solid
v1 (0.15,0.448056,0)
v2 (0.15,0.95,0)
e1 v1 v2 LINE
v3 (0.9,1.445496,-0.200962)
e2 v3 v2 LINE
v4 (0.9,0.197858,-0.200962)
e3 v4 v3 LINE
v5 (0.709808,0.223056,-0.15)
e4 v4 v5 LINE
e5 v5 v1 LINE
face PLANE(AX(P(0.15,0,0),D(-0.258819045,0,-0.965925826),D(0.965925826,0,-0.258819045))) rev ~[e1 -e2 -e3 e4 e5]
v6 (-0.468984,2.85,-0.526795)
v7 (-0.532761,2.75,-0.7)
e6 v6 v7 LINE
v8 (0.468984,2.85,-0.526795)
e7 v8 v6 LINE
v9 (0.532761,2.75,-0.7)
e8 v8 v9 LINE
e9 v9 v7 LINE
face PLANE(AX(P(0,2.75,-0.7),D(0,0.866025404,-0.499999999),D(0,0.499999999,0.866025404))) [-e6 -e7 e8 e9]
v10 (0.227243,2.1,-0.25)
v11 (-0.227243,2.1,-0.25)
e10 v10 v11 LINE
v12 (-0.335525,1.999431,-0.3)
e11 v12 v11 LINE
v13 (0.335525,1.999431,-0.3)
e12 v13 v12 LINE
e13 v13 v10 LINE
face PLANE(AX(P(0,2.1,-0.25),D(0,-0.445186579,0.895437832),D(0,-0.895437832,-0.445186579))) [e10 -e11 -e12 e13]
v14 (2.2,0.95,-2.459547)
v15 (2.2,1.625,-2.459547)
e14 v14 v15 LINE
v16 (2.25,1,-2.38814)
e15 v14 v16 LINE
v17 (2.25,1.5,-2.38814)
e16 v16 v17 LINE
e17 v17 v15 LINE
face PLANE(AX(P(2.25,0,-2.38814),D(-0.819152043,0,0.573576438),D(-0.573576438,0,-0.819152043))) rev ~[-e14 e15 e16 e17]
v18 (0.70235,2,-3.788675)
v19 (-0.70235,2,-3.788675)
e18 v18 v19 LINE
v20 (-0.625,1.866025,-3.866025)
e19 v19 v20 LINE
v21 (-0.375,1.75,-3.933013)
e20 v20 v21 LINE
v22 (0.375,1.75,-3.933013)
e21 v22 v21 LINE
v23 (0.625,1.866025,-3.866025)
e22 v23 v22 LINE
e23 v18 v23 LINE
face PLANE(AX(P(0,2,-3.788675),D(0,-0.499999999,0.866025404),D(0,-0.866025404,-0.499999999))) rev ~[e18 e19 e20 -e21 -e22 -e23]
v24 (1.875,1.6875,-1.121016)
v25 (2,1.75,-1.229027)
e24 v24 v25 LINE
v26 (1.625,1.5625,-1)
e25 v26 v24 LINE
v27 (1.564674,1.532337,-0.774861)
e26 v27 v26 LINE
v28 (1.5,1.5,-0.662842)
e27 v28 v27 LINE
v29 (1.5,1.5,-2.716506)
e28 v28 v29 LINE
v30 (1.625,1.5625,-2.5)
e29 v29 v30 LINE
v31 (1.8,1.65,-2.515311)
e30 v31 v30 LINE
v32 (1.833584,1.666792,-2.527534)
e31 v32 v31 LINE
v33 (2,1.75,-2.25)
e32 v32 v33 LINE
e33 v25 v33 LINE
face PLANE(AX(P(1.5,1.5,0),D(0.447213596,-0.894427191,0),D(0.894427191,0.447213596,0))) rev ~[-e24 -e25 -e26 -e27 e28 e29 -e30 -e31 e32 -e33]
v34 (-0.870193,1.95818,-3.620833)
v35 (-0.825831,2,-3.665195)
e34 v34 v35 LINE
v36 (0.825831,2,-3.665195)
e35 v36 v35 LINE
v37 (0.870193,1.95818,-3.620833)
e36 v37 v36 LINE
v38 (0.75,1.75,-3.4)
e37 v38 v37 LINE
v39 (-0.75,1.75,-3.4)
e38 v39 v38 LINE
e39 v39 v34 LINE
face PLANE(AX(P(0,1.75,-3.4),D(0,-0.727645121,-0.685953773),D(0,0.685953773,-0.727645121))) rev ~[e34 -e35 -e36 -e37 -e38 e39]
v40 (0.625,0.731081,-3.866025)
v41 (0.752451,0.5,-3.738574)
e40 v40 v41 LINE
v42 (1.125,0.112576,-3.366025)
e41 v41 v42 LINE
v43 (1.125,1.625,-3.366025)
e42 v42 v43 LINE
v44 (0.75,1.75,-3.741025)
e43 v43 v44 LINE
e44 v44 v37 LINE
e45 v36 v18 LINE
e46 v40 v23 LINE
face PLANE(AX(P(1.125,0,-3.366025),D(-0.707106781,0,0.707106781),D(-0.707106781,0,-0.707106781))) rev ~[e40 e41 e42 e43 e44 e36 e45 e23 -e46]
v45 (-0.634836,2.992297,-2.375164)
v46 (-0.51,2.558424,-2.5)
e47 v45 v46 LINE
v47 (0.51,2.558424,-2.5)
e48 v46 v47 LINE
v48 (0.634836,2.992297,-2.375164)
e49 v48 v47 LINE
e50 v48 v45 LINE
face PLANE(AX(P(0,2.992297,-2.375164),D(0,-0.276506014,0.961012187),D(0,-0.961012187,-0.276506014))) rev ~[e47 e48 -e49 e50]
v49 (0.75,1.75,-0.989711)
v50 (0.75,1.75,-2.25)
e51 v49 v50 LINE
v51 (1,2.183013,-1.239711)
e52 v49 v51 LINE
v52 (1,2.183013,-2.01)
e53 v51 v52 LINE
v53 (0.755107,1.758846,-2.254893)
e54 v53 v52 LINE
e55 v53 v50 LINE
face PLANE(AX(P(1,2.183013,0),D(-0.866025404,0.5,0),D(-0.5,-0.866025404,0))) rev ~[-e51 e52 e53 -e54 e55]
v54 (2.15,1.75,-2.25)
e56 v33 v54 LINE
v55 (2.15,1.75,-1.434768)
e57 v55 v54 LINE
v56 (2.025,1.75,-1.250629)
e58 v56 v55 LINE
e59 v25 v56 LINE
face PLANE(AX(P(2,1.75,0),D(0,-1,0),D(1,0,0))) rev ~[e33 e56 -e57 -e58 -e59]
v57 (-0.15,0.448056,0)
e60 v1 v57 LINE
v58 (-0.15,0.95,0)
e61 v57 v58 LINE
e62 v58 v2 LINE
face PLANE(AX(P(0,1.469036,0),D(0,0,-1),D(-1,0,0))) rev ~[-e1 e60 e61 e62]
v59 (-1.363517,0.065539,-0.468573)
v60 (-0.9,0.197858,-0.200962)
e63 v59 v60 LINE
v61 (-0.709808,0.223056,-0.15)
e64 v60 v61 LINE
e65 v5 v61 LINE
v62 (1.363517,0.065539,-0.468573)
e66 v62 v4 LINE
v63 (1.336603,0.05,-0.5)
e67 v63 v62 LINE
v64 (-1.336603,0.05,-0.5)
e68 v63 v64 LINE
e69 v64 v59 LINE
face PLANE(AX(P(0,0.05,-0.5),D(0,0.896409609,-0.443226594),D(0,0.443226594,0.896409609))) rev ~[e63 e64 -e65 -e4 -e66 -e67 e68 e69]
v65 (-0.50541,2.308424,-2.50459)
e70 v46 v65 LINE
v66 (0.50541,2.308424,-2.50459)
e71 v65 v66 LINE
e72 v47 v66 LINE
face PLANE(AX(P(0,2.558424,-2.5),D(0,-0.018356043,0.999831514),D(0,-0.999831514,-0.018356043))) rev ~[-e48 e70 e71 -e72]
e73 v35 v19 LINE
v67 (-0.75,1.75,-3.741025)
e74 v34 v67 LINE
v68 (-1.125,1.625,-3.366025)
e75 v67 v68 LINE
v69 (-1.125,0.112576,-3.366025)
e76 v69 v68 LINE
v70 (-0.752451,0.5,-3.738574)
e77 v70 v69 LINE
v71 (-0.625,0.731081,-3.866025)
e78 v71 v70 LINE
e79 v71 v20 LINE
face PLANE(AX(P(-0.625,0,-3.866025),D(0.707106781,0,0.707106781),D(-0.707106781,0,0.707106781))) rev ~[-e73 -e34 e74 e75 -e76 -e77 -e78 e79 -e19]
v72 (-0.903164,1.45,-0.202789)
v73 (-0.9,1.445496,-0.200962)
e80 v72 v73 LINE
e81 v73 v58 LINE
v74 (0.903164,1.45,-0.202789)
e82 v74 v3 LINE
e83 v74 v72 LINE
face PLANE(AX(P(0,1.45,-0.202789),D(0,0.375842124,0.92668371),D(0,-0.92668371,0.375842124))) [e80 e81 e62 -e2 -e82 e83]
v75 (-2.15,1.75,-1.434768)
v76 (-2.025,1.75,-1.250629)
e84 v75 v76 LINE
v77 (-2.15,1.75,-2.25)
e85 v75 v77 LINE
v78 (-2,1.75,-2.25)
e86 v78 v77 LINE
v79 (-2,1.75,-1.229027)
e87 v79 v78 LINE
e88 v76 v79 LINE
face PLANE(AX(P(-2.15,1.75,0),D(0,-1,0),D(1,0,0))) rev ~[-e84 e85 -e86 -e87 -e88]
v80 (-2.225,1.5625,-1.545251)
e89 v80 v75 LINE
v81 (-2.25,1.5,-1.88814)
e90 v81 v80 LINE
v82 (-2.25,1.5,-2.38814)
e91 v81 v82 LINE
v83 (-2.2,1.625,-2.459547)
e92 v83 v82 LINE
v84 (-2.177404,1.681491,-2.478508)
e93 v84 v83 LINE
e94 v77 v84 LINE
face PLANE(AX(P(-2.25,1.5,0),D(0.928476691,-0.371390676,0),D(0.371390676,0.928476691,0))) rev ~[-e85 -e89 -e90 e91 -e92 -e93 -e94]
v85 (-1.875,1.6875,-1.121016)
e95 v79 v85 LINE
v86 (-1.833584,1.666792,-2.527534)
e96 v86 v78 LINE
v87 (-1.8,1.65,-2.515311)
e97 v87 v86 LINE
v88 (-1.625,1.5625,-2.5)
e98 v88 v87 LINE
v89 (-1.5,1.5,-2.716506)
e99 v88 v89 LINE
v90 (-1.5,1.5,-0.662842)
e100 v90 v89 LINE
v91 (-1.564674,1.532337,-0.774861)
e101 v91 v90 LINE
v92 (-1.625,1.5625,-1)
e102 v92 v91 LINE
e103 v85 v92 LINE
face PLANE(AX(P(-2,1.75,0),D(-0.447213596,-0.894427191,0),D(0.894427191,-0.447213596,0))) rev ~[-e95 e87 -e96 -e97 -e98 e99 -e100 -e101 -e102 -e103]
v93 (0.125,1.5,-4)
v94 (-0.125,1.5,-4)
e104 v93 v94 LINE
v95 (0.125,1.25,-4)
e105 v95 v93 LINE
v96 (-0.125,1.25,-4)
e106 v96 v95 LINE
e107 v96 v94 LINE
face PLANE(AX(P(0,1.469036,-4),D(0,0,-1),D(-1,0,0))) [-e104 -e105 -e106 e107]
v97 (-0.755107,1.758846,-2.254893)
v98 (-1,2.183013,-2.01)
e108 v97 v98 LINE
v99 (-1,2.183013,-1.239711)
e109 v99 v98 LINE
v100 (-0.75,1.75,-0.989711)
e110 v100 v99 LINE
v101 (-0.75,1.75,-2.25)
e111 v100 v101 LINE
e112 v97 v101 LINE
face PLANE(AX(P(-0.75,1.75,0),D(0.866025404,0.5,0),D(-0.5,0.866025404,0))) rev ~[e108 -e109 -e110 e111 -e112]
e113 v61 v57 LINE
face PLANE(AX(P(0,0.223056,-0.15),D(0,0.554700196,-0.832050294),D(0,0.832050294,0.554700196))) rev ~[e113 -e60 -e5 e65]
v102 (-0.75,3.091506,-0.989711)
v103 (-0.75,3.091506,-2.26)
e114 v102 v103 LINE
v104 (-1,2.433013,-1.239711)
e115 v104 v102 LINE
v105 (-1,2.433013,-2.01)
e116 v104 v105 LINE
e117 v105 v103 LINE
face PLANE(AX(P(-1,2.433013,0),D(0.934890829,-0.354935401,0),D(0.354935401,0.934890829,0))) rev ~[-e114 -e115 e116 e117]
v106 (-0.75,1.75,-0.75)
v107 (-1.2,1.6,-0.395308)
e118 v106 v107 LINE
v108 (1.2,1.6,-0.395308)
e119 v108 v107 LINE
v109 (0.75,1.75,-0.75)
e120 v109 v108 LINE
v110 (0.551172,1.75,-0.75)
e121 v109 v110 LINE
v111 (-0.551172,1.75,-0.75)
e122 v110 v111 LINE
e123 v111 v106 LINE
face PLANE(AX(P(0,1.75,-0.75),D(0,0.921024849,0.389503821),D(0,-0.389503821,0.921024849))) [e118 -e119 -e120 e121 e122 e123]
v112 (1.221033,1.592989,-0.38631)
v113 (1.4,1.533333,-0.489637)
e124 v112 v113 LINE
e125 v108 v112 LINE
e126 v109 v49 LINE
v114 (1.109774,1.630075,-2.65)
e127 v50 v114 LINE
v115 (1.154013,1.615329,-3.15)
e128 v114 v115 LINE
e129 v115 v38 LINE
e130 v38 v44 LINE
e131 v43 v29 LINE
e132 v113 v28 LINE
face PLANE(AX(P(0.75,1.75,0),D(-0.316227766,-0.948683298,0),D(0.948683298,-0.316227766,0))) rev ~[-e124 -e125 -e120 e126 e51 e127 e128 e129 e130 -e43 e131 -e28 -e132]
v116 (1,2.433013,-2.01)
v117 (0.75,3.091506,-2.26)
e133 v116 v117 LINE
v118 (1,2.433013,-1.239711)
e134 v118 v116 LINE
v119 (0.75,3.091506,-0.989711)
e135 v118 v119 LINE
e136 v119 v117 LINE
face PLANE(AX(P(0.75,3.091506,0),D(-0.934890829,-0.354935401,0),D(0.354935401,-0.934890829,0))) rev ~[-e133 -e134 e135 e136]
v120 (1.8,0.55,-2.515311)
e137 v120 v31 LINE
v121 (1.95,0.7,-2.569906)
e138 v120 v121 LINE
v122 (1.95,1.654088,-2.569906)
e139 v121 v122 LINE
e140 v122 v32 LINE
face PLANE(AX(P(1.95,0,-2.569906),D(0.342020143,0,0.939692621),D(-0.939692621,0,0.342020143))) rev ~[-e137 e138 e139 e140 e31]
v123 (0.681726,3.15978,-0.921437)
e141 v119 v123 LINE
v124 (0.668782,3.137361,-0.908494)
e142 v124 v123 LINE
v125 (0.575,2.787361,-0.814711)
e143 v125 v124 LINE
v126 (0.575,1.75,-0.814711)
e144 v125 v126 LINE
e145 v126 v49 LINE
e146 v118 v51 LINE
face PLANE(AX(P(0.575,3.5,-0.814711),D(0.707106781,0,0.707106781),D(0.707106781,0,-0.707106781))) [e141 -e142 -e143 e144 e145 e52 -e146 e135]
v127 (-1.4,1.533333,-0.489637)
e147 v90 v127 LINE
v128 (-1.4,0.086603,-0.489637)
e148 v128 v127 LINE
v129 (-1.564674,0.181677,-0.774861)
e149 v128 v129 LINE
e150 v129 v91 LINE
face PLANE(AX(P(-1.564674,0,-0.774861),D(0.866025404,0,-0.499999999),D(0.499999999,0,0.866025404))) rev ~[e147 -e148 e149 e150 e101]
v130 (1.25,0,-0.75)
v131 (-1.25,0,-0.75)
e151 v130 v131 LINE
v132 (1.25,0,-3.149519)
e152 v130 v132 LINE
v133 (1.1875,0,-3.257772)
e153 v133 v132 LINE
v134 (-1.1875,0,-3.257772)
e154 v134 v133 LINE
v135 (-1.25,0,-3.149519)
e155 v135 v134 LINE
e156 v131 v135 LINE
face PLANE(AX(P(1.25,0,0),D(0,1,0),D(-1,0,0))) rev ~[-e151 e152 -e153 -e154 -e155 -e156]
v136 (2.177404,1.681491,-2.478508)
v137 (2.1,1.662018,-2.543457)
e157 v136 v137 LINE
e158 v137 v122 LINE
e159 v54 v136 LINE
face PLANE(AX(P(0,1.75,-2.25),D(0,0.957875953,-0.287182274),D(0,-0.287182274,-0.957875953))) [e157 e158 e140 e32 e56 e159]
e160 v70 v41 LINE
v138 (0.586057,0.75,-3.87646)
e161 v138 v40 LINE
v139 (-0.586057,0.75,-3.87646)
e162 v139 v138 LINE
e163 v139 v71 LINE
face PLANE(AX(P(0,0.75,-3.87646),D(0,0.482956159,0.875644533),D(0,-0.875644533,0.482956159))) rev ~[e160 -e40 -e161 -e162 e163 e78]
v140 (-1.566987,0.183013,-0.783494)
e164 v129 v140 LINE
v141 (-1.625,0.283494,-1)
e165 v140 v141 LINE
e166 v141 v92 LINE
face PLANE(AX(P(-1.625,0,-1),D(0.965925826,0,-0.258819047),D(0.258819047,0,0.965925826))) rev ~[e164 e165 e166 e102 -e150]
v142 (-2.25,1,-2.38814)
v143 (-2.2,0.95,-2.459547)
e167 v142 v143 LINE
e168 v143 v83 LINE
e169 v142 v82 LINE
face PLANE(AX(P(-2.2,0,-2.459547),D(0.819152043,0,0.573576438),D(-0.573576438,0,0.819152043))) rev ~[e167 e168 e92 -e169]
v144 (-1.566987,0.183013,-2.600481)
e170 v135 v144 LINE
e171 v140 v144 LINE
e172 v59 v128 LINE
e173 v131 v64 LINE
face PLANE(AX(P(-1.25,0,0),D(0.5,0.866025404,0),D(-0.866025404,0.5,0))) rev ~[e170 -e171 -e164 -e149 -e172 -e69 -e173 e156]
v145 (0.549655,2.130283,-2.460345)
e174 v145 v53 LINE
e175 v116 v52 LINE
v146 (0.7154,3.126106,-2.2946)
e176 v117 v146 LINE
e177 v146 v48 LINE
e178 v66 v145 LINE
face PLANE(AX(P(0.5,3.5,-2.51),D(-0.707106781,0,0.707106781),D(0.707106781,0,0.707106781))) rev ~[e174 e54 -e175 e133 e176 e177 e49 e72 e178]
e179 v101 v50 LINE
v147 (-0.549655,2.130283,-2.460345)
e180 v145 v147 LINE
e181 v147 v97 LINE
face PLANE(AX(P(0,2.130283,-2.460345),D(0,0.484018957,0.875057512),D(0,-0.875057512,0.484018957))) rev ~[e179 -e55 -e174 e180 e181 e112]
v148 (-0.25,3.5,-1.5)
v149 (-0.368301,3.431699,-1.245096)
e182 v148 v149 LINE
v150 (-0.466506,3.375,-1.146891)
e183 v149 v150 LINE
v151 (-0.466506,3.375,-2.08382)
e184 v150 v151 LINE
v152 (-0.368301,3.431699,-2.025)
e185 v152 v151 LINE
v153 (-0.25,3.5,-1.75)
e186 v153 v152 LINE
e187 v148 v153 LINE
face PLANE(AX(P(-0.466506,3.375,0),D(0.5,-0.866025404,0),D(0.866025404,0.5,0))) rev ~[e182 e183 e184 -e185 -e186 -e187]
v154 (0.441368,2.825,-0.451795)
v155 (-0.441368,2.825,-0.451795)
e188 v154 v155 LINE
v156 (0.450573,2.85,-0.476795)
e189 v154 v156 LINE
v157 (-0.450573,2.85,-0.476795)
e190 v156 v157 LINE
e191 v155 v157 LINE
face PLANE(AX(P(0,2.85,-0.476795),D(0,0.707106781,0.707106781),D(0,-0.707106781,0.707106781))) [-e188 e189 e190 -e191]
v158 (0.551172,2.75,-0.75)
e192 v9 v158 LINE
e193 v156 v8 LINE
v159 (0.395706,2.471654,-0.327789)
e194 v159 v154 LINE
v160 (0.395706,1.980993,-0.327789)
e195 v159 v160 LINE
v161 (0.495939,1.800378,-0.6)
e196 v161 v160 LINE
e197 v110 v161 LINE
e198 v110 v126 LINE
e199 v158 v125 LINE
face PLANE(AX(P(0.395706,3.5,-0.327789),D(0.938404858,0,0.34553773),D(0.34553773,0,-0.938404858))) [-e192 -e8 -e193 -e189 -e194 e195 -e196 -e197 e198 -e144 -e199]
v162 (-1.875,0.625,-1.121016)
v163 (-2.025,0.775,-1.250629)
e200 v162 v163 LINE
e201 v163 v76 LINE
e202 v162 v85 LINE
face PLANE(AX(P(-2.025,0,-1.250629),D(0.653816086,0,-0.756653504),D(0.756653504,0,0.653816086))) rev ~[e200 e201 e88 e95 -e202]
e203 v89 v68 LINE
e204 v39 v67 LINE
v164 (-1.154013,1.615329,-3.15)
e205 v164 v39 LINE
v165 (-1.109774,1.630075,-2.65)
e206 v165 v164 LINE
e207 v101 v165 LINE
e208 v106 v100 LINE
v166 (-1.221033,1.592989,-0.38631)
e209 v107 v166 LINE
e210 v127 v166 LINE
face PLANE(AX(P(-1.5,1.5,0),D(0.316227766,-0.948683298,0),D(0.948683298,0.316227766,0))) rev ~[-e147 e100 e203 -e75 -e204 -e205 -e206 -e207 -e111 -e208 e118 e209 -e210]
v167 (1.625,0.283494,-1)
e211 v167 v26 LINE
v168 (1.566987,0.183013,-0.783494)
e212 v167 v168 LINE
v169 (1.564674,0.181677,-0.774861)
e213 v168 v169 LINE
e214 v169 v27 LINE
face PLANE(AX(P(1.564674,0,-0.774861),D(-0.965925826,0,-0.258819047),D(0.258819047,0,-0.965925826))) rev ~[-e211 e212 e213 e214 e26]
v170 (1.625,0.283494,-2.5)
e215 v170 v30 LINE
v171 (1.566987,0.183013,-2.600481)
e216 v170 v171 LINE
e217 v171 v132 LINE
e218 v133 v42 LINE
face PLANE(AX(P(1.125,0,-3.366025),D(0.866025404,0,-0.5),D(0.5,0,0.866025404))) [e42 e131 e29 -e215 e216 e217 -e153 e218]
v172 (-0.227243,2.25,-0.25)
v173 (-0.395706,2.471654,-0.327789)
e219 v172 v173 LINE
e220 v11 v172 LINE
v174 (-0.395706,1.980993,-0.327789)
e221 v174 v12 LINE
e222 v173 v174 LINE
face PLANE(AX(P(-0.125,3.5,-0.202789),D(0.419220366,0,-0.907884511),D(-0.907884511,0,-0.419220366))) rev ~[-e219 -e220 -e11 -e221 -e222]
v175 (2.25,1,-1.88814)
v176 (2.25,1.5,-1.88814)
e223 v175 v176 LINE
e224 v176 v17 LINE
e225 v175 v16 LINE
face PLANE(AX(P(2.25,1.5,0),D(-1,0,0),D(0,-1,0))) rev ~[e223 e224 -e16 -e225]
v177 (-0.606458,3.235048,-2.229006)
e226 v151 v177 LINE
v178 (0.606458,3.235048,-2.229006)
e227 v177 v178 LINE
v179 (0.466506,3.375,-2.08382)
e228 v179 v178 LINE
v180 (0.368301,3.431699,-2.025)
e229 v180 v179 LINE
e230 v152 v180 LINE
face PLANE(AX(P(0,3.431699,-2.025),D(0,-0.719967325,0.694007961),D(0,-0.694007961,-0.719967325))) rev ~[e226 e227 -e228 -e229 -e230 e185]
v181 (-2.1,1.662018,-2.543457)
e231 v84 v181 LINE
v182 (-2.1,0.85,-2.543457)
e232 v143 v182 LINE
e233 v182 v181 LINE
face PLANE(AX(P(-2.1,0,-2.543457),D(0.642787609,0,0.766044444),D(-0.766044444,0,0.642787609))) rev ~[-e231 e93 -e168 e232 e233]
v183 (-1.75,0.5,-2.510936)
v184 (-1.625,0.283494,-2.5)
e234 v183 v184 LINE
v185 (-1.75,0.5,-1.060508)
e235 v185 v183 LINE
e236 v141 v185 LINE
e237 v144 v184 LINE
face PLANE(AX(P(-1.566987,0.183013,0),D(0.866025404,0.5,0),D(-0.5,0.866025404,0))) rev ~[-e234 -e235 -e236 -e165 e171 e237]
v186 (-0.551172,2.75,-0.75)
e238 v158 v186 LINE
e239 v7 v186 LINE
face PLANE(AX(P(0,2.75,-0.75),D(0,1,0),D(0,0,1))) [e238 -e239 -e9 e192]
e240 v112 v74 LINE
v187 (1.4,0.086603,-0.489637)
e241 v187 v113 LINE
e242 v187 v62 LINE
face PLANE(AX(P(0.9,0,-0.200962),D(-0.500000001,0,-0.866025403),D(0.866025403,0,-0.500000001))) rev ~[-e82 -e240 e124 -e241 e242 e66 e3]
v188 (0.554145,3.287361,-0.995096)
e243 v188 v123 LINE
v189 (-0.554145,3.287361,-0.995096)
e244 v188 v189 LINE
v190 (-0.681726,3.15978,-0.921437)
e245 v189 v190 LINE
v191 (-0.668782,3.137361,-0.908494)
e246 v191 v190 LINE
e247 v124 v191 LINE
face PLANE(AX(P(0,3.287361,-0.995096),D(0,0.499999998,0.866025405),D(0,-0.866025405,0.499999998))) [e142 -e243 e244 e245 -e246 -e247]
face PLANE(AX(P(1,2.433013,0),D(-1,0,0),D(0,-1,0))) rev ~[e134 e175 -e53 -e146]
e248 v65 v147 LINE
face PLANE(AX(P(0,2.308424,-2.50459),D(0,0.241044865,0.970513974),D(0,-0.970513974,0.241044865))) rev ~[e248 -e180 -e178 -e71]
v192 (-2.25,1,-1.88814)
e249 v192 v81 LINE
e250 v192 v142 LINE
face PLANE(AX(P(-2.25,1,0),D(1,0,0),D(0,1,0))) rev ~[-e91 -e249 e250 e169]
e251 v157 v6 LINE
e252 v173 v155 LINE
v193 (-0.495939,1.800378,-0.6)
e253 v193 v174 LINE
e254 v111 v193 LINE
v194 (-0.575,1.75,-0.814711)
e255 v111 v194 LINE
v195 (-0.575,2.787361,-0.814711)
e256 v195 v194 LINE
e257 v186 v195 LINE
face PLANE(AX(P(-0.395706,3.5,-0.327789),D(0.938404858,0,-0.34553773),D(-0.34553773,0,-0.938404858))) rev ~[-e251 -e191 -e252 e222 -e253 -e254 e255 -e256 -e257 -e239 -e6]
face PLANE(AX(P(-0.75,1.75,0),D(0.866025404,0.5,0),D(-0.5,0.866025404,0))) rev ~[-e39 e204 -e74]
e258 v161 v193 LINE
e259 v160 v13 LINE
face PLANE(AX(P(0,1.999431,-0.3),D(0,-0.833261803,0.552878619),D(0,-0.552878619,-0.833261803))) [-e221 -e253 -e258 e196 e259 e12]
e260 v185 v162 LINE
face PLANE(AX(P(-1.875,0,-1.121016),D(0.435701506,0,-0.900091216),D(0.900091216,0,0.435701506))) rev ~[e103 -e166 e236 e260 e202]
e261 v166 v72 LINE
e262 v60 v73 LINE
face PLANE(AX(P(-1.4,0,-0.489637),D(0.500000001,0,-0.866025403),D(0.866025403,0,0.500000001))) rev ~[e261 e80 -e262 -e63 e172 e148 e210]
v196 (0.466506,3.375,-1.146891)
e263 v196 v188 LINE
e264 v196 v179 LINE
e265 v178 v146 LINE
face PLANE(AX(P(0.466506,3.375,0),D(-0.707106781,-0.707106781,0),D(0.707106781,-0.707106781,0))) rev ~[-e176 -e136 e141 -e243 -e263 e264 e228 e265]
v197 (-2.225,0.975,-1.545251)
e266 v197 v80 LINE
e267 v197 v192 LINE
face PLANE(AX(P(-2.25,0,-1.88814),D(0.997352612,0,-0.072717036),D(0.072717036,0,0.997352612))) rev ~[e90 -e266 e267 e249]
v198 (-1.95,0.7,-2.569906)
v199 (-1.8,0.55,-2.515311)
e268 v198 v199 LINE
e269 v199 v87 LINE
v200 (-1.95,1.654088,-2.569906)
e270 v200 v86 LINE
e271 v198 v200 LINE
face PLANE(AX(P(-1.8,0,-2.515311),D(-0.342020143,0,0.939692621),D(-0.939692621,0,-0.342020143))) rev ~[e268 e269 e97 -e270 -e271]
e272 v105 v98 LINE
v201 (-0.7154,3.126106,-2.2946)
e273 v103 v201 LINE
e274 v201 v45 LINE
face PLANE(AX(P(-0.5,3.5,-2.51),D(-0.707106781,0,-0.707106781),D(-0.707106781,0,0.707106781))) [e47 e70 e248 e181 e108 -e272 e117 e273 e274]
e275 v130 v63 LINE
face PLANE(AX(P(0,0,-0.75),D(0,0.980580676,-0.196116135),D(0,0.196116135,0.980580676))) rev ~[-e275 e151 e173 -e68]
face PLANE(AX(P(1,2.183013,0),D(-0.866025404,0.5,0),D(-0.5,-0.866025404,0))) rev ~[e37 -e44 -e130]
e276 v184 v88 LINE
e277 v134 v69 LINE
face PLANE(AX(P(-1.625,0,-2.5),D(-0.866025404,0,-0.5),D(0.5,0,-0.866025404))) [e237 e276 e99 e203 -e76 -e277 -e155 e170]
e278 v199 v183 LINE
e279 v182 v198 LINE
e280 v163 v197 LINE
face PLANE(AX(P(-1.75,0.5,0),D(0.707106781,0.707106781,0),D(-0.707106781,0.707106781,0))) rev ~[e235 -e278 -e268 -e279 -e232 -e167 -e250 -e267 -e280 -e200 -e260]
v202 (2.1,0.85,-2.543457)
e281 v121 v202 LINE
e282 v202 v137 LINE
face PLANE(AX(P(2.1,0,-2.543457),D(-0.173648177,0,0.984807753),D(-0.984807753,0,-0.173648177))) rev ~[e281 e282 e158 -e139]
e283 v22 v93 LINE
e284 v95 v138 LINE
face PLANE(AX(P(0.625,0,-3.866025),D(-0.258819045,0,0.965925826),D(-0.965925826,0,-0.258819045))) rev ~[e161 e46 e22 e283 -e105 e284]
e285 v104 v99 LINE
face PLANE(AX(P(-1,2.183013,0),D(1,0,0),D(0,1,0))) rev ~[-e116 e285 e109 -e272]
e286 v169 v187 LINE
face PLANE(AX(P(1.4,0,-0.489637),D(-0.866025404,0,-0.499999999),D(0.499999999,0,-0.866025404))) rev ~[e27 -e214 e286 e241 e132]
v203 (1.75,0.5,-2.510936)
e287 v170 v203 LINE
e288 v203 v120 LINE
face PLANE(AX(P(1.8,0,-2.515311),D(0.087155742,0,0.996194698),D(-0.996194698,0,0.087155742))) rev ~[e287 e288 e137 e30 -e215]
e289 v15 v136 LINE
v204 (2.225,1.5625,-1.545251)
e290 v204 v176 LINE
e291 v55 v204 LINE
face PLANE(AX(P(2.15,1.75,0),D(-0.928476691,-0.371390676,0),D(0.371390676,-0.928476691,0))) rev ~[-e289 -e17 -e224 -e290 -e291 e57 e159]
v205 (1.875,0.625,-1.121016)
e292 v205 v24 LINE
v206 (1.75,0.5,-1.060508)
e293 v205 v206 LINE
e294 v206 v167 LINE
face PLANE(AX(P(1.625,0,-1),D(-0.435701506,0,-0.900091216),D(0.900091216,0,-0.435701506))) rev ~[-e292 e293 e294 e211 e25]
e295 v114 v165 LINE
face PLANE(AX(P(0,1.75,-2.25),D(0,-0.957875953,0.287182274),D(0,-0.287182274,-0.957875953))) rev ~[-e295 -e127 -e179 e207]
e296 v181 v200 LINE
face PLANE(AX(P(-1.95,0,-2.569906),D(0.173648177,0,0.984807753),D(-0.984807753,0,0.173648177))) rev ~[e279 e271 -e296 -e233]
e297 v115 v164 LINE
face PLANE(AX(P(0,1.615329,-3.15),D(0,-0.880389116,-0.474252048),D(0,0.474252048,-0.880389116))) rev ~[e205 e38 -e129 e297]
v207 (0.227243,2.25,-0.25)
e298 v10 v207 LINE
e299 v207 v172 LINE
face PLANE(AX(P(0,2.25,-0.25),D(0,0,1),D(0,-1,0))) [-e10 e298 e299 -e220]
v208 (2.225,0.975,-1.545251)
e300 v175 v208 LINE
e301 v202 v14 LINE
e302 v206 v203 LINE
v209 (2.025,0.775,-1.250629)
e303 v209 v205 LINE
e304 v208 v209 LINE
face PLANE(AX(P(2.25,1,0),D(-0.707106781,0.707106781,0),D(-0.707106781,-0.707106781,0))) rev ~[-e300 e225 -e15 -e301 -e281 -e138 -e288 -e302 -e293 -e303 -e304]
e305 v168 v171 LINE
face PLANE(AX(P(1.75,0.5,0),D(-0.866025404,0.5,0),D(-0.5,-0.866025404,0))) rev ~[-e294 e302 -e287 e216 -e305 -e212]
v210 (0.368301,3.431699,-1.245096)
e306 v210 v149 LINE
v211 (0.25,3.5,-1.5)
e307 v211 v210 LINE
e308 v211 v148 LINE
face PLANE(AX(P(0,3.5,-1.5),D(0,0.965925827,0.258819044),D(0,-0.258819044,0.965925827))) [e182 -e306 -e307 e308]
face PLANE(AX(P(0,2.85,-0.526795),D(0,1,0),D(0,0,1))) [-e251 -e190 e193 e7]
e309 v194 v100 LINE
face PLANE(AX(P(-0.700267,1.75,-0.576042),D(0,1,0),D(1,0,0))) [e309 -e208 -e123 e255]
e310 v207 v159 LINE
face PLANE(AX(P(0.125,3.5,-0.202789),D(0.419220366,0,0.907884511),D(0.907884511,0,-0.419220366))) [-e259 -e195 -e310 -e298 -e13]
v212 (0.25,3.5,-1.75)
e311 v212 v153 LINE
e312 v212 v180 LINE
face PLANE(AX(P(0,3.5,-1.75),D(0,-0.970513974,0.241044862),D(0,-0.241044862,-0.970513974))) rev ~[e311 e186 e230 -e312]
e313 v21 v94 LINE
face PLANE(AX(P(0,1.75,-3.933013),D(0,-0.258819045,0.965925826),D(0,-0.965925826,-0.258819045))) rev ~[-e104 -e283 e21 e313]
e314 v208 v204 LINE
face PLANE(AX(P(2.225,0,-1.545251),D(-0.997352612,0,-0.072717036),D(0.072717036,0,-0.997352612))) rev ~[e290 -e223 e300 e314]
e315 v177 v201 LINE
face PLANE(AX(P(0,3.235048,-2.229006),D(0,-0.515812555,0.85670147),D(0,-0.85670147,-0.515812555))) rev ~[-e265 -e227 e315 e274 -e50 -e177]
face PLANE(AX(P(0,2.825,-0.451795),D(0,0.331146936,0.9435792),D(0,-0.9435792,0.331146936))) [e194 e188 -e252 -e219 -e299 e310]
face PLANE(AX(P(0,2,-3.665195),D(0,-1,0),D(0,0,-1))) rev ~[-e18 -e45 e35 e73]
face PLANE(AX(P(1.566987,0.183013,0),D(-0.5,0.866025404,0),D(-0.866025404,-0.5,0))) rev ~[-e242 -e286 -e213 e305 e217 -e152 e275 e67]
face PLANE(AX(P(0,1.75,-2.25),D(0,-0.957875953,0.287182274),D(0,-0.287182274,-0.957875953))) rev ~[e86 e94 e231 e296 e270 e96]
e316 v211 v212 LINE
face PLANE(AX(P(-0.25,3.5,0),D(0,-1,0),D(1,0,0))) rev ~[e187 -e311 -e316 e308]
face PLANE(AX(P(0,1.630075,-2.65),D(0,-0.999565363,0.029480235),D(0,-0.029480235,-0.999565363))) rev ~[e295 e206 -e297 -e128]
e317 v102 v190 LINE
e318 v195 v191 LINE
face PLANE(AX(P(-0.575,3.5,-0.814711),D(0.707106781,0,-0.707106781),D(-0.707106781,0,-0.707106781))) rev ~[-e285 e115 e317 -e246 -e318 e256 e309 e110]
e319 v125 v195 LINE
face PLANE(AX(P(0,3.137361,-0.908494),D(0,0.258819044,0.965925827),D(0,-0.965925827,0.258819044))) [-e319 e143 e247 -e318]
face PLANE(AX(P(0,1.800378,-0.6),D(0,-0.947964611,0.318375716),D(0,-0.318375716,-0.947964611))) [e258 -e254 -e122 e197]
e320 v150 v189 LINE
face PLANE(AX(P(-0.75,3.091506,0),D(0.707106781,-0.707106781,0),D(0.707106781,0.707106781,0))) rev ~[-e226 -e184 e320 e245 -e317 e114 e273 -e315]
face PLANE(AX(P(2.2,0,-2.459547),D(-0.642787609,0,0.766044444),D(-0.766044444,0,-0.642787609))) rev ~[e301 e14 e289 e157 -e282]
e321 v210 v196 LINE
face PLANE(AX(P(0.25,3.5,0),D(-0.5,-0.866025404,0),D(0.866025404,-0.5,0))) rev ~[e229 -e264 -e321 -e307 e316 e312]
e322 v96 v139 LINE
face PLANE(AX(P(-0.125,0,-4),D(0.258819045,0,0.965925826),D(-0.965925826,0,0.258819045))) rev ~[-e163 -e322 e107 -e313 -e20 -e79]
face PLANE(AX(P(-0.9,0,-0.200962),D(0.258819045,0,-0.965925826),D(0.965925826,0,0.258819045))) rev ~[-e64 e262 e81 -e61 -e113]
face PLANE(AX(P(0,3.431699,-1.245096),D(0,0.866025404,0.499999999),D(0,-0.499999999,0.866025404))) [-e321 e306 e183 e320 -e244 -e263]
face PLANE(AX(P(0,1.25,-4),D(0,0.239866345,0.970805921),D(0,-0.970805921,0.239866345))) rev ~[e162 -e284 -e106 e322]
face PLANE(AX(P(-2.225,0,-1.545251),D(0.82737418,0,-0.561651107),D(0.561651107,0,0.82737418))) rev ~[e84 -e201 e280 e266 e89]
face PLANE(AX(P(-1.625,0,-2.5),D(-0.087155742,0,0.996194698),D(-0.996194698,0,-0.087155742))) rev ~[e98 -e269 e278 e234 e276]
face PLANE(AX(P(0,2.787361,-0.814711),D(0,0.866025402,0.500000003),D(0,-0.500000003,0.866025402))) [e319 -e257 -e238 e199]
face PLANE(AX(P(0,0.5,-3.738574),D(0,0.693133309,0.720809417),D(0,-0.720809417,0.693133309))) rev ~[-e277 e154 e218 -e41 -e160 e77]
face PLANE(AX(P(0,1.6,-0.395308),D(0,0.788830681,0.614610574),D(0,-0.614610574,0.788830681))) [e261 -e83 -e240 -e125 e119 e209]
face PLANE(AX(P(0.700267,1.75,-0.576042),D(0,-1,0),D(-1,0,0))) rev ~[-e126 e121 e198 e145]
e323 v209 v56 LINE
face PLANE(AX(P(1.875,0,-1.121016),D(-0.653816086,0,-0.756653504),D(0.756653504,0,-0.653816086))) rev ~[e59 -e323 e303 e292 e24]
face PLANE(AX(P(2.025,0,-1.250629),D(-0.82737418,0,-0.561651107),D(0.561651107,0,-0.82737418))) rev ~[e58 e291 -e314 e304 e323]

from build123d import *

# Parameters (mm, degrees)
BOSS_EXTRUDE1_DEPTH     = 4
CUT_EXTRUDE2_DEPTH      = 4.5
CUT_EXTRUDE2_DEPTH_BACK = 1
CUT_EXTRUDE3_DEPTH      = 3.25
CUT_EXTRUDE3_DEPTH_BACK = 3.25
CUT_EXTRUDE4_DEPTH      = 1.75


with BuildPart() as part:
    # Sketch1 → Boss-Extrude1 (new body)
    with BuildSketch(Plane.XY):
        Polygon((1.25, 0), (-1.25, 0), (-1.566987298, 0.183012702), (-1.75, 0.5), (-2.25, 1), (-2.25, 1.5), (-2.15, 1.75), (-2, 1.75), (-1.5, 1.5), (-0.75, 1.75), (-1, 2.183012702), (-1, 2.433012702), (-0.75, 3.091506351), (-0.466506351, 3.375), (-0.25, 3.5), (0.25, 3.5), (0.466506351, 3.375), (0.75, 3.091506351), (1, 2.433012702), (1, 2.183012702), (0.75, 1.75), (1.5, 1.5), (2, 1.75), (2.15, 1.75), (2.25, 1.5), (2.25, 1), (1.75, 0.5), (1.566987298, 0.183012702), align=None)
    extrude(amount=-BOSS_EXTRUDE1_DEPTH)

    # Sketch2 → Cut-Extrude2 (cut, two sides)
    with BuildSketch(Plane(origin=(0, 0, 0), x_dir=(1, 0, 0), z_dir=(0, 1, 0))) as cut_extrude2_sk:
        Polygon((-2.25, 4), (-0.125, 4), (-0.625, 3.866025404), (-1.125, 3.366025404), (-1.375, 2.933012702), (-1.625, 2.5), (-1.8, 2.515310516), (-1.95, 2.569906051), (-2.1, 2.543457004), (-2.2, 2.459547041), (-2.25, 2.388139641), align=None)
        Polygon((2.25, 4), (2.25, 2.388139641), (2.2, 2.459547041), (2.1, 2.543457004), (1.95, 2.569906051), (1.8, 2.515310516), (1.625, 2.5), (1.375, 2.933012702), (1.125, 3.366025404), (0.625, 3.866025404), (0.125, 4), align=None)
        Polygon((2.25, 0), (0.15, 0), (0.9, 0.200961894), (1.4, 0.489637029), (1.56467423, 0.774861163), (1.625, 1), (1.875, 1.121015931), (2.025, 1.250629304), (2.225, 1.545251417), (2.25, 1.888139641), align=None)
        Polygon((-2.25, 0), (-2.25, 1.888139641), (-2.225, 1.545251417), (-2.025, 1.250629304), (-1.875, 1.121015931), (-1.625, 1), (-1.56467423, 0.774861163), (-1.4, 0.489637029), (-0.9, 0.200961894), (-0.15, 0), align=None)
    extrude(amount=CUT_EXTRUDE2_DEPTH, mode=Mode.SUBTRACT)
    extrude(cut_extrude2_sk.sketch, amount=-CUT_EXTRUDE2_DEPTH_BACK, mode=Mode.SUBTRACT)

    # Sketch3 → Cut-Extrude3 (cut, two sides)
    with BuildSketch(Plane(origin=(0, 0, 0), x_dir=(0, 0, -1), z_dir=(1, 0, 0))) as cut_extrude3_sk:
        Polygon((0.75, 0), (0.5, 0.05), (0.15, 0.223056275), (0, 0.448056275), (0, 0), align=None)
        Polygon((0.75, 1.75), (0.395308416, 1.6), (0.202788783, 1.45), (0, 0.95), (0, 3.5), (1.5, 3.5), (1.245096189, 3.43169873), (0.995096189, 3.287361163), (0.908493649, 3.137361163), (0.814711432, 2.787361163), (0.75, 2.75), (0.7, 2.75), (0.526794919, 2.85), (0.476794919, 2.85), (0.451794919, 2.825), (0.25, 2.25), (0.25, 2.1), (0.3, 1.999431174), (0.6, 1.800377785), align=None)
        Polygon((1.75, 3.5), (2.025, 3.43169873), (2.229006351, 3.235048095), (2.375164424, 2.992297439), (2.5, 2.55842438), (2.504589784, 2.30842438), (2.460345023, 2.13028261), (2.25, 1.75), (2.65, 1.63007538), (3.15, 1.615328853), (3.4, 1.75), (3.665194664, 2), (3.788675135, 2), (3.933012702, 1.75), (4, 1.5), (4, 3.5), align=None)
        Polygon((3.257772228, 0), (4, 0), (4, 1.25), (3.876460197, 0.75), (3.738574291, 0.5), align=None)
    extrude(amount=CUT_EXTRUDE3_DEPTH, mode=Mode.SUBTRACT)
    extrude(cut_extrude3_sk.sketch, amount=-CUT_EXTRUDE3_DEPTH_BACK, mode=Mode.SUBTRACT)

    # Sketch4 → Cut-Extrude4 (cut)
    with BuildSketch(Plane(origin=(0, 3.5, 0), x_dir=(1, 0, 0), z_dir=(0, 1, 0))):
        Polygon((1, 2.51), (0.5, 2.51), (1, 2.01), align=None)
        Polygon((-1, 2.51), (-0.5, 2.51), (-1, 2.01), align=None)
        Polygon((0.575, 0.814711432), (1, 1.239711432), (1, 0.202788783), (0.125, 0.202788783), (0.395706228, 0.327788783), align=None)
        Polygon((-0.575, 0.814711432), (-1, 1.239711432), (-1, 0.202788783), (-0.125, 0.202788783), (-0.395706228, 0.327788783), align=None)
    extrude(amount=-CUT_EXTRUDE4_DEPTH, mode=Mode.SUBTRACT)


solid = part.part
